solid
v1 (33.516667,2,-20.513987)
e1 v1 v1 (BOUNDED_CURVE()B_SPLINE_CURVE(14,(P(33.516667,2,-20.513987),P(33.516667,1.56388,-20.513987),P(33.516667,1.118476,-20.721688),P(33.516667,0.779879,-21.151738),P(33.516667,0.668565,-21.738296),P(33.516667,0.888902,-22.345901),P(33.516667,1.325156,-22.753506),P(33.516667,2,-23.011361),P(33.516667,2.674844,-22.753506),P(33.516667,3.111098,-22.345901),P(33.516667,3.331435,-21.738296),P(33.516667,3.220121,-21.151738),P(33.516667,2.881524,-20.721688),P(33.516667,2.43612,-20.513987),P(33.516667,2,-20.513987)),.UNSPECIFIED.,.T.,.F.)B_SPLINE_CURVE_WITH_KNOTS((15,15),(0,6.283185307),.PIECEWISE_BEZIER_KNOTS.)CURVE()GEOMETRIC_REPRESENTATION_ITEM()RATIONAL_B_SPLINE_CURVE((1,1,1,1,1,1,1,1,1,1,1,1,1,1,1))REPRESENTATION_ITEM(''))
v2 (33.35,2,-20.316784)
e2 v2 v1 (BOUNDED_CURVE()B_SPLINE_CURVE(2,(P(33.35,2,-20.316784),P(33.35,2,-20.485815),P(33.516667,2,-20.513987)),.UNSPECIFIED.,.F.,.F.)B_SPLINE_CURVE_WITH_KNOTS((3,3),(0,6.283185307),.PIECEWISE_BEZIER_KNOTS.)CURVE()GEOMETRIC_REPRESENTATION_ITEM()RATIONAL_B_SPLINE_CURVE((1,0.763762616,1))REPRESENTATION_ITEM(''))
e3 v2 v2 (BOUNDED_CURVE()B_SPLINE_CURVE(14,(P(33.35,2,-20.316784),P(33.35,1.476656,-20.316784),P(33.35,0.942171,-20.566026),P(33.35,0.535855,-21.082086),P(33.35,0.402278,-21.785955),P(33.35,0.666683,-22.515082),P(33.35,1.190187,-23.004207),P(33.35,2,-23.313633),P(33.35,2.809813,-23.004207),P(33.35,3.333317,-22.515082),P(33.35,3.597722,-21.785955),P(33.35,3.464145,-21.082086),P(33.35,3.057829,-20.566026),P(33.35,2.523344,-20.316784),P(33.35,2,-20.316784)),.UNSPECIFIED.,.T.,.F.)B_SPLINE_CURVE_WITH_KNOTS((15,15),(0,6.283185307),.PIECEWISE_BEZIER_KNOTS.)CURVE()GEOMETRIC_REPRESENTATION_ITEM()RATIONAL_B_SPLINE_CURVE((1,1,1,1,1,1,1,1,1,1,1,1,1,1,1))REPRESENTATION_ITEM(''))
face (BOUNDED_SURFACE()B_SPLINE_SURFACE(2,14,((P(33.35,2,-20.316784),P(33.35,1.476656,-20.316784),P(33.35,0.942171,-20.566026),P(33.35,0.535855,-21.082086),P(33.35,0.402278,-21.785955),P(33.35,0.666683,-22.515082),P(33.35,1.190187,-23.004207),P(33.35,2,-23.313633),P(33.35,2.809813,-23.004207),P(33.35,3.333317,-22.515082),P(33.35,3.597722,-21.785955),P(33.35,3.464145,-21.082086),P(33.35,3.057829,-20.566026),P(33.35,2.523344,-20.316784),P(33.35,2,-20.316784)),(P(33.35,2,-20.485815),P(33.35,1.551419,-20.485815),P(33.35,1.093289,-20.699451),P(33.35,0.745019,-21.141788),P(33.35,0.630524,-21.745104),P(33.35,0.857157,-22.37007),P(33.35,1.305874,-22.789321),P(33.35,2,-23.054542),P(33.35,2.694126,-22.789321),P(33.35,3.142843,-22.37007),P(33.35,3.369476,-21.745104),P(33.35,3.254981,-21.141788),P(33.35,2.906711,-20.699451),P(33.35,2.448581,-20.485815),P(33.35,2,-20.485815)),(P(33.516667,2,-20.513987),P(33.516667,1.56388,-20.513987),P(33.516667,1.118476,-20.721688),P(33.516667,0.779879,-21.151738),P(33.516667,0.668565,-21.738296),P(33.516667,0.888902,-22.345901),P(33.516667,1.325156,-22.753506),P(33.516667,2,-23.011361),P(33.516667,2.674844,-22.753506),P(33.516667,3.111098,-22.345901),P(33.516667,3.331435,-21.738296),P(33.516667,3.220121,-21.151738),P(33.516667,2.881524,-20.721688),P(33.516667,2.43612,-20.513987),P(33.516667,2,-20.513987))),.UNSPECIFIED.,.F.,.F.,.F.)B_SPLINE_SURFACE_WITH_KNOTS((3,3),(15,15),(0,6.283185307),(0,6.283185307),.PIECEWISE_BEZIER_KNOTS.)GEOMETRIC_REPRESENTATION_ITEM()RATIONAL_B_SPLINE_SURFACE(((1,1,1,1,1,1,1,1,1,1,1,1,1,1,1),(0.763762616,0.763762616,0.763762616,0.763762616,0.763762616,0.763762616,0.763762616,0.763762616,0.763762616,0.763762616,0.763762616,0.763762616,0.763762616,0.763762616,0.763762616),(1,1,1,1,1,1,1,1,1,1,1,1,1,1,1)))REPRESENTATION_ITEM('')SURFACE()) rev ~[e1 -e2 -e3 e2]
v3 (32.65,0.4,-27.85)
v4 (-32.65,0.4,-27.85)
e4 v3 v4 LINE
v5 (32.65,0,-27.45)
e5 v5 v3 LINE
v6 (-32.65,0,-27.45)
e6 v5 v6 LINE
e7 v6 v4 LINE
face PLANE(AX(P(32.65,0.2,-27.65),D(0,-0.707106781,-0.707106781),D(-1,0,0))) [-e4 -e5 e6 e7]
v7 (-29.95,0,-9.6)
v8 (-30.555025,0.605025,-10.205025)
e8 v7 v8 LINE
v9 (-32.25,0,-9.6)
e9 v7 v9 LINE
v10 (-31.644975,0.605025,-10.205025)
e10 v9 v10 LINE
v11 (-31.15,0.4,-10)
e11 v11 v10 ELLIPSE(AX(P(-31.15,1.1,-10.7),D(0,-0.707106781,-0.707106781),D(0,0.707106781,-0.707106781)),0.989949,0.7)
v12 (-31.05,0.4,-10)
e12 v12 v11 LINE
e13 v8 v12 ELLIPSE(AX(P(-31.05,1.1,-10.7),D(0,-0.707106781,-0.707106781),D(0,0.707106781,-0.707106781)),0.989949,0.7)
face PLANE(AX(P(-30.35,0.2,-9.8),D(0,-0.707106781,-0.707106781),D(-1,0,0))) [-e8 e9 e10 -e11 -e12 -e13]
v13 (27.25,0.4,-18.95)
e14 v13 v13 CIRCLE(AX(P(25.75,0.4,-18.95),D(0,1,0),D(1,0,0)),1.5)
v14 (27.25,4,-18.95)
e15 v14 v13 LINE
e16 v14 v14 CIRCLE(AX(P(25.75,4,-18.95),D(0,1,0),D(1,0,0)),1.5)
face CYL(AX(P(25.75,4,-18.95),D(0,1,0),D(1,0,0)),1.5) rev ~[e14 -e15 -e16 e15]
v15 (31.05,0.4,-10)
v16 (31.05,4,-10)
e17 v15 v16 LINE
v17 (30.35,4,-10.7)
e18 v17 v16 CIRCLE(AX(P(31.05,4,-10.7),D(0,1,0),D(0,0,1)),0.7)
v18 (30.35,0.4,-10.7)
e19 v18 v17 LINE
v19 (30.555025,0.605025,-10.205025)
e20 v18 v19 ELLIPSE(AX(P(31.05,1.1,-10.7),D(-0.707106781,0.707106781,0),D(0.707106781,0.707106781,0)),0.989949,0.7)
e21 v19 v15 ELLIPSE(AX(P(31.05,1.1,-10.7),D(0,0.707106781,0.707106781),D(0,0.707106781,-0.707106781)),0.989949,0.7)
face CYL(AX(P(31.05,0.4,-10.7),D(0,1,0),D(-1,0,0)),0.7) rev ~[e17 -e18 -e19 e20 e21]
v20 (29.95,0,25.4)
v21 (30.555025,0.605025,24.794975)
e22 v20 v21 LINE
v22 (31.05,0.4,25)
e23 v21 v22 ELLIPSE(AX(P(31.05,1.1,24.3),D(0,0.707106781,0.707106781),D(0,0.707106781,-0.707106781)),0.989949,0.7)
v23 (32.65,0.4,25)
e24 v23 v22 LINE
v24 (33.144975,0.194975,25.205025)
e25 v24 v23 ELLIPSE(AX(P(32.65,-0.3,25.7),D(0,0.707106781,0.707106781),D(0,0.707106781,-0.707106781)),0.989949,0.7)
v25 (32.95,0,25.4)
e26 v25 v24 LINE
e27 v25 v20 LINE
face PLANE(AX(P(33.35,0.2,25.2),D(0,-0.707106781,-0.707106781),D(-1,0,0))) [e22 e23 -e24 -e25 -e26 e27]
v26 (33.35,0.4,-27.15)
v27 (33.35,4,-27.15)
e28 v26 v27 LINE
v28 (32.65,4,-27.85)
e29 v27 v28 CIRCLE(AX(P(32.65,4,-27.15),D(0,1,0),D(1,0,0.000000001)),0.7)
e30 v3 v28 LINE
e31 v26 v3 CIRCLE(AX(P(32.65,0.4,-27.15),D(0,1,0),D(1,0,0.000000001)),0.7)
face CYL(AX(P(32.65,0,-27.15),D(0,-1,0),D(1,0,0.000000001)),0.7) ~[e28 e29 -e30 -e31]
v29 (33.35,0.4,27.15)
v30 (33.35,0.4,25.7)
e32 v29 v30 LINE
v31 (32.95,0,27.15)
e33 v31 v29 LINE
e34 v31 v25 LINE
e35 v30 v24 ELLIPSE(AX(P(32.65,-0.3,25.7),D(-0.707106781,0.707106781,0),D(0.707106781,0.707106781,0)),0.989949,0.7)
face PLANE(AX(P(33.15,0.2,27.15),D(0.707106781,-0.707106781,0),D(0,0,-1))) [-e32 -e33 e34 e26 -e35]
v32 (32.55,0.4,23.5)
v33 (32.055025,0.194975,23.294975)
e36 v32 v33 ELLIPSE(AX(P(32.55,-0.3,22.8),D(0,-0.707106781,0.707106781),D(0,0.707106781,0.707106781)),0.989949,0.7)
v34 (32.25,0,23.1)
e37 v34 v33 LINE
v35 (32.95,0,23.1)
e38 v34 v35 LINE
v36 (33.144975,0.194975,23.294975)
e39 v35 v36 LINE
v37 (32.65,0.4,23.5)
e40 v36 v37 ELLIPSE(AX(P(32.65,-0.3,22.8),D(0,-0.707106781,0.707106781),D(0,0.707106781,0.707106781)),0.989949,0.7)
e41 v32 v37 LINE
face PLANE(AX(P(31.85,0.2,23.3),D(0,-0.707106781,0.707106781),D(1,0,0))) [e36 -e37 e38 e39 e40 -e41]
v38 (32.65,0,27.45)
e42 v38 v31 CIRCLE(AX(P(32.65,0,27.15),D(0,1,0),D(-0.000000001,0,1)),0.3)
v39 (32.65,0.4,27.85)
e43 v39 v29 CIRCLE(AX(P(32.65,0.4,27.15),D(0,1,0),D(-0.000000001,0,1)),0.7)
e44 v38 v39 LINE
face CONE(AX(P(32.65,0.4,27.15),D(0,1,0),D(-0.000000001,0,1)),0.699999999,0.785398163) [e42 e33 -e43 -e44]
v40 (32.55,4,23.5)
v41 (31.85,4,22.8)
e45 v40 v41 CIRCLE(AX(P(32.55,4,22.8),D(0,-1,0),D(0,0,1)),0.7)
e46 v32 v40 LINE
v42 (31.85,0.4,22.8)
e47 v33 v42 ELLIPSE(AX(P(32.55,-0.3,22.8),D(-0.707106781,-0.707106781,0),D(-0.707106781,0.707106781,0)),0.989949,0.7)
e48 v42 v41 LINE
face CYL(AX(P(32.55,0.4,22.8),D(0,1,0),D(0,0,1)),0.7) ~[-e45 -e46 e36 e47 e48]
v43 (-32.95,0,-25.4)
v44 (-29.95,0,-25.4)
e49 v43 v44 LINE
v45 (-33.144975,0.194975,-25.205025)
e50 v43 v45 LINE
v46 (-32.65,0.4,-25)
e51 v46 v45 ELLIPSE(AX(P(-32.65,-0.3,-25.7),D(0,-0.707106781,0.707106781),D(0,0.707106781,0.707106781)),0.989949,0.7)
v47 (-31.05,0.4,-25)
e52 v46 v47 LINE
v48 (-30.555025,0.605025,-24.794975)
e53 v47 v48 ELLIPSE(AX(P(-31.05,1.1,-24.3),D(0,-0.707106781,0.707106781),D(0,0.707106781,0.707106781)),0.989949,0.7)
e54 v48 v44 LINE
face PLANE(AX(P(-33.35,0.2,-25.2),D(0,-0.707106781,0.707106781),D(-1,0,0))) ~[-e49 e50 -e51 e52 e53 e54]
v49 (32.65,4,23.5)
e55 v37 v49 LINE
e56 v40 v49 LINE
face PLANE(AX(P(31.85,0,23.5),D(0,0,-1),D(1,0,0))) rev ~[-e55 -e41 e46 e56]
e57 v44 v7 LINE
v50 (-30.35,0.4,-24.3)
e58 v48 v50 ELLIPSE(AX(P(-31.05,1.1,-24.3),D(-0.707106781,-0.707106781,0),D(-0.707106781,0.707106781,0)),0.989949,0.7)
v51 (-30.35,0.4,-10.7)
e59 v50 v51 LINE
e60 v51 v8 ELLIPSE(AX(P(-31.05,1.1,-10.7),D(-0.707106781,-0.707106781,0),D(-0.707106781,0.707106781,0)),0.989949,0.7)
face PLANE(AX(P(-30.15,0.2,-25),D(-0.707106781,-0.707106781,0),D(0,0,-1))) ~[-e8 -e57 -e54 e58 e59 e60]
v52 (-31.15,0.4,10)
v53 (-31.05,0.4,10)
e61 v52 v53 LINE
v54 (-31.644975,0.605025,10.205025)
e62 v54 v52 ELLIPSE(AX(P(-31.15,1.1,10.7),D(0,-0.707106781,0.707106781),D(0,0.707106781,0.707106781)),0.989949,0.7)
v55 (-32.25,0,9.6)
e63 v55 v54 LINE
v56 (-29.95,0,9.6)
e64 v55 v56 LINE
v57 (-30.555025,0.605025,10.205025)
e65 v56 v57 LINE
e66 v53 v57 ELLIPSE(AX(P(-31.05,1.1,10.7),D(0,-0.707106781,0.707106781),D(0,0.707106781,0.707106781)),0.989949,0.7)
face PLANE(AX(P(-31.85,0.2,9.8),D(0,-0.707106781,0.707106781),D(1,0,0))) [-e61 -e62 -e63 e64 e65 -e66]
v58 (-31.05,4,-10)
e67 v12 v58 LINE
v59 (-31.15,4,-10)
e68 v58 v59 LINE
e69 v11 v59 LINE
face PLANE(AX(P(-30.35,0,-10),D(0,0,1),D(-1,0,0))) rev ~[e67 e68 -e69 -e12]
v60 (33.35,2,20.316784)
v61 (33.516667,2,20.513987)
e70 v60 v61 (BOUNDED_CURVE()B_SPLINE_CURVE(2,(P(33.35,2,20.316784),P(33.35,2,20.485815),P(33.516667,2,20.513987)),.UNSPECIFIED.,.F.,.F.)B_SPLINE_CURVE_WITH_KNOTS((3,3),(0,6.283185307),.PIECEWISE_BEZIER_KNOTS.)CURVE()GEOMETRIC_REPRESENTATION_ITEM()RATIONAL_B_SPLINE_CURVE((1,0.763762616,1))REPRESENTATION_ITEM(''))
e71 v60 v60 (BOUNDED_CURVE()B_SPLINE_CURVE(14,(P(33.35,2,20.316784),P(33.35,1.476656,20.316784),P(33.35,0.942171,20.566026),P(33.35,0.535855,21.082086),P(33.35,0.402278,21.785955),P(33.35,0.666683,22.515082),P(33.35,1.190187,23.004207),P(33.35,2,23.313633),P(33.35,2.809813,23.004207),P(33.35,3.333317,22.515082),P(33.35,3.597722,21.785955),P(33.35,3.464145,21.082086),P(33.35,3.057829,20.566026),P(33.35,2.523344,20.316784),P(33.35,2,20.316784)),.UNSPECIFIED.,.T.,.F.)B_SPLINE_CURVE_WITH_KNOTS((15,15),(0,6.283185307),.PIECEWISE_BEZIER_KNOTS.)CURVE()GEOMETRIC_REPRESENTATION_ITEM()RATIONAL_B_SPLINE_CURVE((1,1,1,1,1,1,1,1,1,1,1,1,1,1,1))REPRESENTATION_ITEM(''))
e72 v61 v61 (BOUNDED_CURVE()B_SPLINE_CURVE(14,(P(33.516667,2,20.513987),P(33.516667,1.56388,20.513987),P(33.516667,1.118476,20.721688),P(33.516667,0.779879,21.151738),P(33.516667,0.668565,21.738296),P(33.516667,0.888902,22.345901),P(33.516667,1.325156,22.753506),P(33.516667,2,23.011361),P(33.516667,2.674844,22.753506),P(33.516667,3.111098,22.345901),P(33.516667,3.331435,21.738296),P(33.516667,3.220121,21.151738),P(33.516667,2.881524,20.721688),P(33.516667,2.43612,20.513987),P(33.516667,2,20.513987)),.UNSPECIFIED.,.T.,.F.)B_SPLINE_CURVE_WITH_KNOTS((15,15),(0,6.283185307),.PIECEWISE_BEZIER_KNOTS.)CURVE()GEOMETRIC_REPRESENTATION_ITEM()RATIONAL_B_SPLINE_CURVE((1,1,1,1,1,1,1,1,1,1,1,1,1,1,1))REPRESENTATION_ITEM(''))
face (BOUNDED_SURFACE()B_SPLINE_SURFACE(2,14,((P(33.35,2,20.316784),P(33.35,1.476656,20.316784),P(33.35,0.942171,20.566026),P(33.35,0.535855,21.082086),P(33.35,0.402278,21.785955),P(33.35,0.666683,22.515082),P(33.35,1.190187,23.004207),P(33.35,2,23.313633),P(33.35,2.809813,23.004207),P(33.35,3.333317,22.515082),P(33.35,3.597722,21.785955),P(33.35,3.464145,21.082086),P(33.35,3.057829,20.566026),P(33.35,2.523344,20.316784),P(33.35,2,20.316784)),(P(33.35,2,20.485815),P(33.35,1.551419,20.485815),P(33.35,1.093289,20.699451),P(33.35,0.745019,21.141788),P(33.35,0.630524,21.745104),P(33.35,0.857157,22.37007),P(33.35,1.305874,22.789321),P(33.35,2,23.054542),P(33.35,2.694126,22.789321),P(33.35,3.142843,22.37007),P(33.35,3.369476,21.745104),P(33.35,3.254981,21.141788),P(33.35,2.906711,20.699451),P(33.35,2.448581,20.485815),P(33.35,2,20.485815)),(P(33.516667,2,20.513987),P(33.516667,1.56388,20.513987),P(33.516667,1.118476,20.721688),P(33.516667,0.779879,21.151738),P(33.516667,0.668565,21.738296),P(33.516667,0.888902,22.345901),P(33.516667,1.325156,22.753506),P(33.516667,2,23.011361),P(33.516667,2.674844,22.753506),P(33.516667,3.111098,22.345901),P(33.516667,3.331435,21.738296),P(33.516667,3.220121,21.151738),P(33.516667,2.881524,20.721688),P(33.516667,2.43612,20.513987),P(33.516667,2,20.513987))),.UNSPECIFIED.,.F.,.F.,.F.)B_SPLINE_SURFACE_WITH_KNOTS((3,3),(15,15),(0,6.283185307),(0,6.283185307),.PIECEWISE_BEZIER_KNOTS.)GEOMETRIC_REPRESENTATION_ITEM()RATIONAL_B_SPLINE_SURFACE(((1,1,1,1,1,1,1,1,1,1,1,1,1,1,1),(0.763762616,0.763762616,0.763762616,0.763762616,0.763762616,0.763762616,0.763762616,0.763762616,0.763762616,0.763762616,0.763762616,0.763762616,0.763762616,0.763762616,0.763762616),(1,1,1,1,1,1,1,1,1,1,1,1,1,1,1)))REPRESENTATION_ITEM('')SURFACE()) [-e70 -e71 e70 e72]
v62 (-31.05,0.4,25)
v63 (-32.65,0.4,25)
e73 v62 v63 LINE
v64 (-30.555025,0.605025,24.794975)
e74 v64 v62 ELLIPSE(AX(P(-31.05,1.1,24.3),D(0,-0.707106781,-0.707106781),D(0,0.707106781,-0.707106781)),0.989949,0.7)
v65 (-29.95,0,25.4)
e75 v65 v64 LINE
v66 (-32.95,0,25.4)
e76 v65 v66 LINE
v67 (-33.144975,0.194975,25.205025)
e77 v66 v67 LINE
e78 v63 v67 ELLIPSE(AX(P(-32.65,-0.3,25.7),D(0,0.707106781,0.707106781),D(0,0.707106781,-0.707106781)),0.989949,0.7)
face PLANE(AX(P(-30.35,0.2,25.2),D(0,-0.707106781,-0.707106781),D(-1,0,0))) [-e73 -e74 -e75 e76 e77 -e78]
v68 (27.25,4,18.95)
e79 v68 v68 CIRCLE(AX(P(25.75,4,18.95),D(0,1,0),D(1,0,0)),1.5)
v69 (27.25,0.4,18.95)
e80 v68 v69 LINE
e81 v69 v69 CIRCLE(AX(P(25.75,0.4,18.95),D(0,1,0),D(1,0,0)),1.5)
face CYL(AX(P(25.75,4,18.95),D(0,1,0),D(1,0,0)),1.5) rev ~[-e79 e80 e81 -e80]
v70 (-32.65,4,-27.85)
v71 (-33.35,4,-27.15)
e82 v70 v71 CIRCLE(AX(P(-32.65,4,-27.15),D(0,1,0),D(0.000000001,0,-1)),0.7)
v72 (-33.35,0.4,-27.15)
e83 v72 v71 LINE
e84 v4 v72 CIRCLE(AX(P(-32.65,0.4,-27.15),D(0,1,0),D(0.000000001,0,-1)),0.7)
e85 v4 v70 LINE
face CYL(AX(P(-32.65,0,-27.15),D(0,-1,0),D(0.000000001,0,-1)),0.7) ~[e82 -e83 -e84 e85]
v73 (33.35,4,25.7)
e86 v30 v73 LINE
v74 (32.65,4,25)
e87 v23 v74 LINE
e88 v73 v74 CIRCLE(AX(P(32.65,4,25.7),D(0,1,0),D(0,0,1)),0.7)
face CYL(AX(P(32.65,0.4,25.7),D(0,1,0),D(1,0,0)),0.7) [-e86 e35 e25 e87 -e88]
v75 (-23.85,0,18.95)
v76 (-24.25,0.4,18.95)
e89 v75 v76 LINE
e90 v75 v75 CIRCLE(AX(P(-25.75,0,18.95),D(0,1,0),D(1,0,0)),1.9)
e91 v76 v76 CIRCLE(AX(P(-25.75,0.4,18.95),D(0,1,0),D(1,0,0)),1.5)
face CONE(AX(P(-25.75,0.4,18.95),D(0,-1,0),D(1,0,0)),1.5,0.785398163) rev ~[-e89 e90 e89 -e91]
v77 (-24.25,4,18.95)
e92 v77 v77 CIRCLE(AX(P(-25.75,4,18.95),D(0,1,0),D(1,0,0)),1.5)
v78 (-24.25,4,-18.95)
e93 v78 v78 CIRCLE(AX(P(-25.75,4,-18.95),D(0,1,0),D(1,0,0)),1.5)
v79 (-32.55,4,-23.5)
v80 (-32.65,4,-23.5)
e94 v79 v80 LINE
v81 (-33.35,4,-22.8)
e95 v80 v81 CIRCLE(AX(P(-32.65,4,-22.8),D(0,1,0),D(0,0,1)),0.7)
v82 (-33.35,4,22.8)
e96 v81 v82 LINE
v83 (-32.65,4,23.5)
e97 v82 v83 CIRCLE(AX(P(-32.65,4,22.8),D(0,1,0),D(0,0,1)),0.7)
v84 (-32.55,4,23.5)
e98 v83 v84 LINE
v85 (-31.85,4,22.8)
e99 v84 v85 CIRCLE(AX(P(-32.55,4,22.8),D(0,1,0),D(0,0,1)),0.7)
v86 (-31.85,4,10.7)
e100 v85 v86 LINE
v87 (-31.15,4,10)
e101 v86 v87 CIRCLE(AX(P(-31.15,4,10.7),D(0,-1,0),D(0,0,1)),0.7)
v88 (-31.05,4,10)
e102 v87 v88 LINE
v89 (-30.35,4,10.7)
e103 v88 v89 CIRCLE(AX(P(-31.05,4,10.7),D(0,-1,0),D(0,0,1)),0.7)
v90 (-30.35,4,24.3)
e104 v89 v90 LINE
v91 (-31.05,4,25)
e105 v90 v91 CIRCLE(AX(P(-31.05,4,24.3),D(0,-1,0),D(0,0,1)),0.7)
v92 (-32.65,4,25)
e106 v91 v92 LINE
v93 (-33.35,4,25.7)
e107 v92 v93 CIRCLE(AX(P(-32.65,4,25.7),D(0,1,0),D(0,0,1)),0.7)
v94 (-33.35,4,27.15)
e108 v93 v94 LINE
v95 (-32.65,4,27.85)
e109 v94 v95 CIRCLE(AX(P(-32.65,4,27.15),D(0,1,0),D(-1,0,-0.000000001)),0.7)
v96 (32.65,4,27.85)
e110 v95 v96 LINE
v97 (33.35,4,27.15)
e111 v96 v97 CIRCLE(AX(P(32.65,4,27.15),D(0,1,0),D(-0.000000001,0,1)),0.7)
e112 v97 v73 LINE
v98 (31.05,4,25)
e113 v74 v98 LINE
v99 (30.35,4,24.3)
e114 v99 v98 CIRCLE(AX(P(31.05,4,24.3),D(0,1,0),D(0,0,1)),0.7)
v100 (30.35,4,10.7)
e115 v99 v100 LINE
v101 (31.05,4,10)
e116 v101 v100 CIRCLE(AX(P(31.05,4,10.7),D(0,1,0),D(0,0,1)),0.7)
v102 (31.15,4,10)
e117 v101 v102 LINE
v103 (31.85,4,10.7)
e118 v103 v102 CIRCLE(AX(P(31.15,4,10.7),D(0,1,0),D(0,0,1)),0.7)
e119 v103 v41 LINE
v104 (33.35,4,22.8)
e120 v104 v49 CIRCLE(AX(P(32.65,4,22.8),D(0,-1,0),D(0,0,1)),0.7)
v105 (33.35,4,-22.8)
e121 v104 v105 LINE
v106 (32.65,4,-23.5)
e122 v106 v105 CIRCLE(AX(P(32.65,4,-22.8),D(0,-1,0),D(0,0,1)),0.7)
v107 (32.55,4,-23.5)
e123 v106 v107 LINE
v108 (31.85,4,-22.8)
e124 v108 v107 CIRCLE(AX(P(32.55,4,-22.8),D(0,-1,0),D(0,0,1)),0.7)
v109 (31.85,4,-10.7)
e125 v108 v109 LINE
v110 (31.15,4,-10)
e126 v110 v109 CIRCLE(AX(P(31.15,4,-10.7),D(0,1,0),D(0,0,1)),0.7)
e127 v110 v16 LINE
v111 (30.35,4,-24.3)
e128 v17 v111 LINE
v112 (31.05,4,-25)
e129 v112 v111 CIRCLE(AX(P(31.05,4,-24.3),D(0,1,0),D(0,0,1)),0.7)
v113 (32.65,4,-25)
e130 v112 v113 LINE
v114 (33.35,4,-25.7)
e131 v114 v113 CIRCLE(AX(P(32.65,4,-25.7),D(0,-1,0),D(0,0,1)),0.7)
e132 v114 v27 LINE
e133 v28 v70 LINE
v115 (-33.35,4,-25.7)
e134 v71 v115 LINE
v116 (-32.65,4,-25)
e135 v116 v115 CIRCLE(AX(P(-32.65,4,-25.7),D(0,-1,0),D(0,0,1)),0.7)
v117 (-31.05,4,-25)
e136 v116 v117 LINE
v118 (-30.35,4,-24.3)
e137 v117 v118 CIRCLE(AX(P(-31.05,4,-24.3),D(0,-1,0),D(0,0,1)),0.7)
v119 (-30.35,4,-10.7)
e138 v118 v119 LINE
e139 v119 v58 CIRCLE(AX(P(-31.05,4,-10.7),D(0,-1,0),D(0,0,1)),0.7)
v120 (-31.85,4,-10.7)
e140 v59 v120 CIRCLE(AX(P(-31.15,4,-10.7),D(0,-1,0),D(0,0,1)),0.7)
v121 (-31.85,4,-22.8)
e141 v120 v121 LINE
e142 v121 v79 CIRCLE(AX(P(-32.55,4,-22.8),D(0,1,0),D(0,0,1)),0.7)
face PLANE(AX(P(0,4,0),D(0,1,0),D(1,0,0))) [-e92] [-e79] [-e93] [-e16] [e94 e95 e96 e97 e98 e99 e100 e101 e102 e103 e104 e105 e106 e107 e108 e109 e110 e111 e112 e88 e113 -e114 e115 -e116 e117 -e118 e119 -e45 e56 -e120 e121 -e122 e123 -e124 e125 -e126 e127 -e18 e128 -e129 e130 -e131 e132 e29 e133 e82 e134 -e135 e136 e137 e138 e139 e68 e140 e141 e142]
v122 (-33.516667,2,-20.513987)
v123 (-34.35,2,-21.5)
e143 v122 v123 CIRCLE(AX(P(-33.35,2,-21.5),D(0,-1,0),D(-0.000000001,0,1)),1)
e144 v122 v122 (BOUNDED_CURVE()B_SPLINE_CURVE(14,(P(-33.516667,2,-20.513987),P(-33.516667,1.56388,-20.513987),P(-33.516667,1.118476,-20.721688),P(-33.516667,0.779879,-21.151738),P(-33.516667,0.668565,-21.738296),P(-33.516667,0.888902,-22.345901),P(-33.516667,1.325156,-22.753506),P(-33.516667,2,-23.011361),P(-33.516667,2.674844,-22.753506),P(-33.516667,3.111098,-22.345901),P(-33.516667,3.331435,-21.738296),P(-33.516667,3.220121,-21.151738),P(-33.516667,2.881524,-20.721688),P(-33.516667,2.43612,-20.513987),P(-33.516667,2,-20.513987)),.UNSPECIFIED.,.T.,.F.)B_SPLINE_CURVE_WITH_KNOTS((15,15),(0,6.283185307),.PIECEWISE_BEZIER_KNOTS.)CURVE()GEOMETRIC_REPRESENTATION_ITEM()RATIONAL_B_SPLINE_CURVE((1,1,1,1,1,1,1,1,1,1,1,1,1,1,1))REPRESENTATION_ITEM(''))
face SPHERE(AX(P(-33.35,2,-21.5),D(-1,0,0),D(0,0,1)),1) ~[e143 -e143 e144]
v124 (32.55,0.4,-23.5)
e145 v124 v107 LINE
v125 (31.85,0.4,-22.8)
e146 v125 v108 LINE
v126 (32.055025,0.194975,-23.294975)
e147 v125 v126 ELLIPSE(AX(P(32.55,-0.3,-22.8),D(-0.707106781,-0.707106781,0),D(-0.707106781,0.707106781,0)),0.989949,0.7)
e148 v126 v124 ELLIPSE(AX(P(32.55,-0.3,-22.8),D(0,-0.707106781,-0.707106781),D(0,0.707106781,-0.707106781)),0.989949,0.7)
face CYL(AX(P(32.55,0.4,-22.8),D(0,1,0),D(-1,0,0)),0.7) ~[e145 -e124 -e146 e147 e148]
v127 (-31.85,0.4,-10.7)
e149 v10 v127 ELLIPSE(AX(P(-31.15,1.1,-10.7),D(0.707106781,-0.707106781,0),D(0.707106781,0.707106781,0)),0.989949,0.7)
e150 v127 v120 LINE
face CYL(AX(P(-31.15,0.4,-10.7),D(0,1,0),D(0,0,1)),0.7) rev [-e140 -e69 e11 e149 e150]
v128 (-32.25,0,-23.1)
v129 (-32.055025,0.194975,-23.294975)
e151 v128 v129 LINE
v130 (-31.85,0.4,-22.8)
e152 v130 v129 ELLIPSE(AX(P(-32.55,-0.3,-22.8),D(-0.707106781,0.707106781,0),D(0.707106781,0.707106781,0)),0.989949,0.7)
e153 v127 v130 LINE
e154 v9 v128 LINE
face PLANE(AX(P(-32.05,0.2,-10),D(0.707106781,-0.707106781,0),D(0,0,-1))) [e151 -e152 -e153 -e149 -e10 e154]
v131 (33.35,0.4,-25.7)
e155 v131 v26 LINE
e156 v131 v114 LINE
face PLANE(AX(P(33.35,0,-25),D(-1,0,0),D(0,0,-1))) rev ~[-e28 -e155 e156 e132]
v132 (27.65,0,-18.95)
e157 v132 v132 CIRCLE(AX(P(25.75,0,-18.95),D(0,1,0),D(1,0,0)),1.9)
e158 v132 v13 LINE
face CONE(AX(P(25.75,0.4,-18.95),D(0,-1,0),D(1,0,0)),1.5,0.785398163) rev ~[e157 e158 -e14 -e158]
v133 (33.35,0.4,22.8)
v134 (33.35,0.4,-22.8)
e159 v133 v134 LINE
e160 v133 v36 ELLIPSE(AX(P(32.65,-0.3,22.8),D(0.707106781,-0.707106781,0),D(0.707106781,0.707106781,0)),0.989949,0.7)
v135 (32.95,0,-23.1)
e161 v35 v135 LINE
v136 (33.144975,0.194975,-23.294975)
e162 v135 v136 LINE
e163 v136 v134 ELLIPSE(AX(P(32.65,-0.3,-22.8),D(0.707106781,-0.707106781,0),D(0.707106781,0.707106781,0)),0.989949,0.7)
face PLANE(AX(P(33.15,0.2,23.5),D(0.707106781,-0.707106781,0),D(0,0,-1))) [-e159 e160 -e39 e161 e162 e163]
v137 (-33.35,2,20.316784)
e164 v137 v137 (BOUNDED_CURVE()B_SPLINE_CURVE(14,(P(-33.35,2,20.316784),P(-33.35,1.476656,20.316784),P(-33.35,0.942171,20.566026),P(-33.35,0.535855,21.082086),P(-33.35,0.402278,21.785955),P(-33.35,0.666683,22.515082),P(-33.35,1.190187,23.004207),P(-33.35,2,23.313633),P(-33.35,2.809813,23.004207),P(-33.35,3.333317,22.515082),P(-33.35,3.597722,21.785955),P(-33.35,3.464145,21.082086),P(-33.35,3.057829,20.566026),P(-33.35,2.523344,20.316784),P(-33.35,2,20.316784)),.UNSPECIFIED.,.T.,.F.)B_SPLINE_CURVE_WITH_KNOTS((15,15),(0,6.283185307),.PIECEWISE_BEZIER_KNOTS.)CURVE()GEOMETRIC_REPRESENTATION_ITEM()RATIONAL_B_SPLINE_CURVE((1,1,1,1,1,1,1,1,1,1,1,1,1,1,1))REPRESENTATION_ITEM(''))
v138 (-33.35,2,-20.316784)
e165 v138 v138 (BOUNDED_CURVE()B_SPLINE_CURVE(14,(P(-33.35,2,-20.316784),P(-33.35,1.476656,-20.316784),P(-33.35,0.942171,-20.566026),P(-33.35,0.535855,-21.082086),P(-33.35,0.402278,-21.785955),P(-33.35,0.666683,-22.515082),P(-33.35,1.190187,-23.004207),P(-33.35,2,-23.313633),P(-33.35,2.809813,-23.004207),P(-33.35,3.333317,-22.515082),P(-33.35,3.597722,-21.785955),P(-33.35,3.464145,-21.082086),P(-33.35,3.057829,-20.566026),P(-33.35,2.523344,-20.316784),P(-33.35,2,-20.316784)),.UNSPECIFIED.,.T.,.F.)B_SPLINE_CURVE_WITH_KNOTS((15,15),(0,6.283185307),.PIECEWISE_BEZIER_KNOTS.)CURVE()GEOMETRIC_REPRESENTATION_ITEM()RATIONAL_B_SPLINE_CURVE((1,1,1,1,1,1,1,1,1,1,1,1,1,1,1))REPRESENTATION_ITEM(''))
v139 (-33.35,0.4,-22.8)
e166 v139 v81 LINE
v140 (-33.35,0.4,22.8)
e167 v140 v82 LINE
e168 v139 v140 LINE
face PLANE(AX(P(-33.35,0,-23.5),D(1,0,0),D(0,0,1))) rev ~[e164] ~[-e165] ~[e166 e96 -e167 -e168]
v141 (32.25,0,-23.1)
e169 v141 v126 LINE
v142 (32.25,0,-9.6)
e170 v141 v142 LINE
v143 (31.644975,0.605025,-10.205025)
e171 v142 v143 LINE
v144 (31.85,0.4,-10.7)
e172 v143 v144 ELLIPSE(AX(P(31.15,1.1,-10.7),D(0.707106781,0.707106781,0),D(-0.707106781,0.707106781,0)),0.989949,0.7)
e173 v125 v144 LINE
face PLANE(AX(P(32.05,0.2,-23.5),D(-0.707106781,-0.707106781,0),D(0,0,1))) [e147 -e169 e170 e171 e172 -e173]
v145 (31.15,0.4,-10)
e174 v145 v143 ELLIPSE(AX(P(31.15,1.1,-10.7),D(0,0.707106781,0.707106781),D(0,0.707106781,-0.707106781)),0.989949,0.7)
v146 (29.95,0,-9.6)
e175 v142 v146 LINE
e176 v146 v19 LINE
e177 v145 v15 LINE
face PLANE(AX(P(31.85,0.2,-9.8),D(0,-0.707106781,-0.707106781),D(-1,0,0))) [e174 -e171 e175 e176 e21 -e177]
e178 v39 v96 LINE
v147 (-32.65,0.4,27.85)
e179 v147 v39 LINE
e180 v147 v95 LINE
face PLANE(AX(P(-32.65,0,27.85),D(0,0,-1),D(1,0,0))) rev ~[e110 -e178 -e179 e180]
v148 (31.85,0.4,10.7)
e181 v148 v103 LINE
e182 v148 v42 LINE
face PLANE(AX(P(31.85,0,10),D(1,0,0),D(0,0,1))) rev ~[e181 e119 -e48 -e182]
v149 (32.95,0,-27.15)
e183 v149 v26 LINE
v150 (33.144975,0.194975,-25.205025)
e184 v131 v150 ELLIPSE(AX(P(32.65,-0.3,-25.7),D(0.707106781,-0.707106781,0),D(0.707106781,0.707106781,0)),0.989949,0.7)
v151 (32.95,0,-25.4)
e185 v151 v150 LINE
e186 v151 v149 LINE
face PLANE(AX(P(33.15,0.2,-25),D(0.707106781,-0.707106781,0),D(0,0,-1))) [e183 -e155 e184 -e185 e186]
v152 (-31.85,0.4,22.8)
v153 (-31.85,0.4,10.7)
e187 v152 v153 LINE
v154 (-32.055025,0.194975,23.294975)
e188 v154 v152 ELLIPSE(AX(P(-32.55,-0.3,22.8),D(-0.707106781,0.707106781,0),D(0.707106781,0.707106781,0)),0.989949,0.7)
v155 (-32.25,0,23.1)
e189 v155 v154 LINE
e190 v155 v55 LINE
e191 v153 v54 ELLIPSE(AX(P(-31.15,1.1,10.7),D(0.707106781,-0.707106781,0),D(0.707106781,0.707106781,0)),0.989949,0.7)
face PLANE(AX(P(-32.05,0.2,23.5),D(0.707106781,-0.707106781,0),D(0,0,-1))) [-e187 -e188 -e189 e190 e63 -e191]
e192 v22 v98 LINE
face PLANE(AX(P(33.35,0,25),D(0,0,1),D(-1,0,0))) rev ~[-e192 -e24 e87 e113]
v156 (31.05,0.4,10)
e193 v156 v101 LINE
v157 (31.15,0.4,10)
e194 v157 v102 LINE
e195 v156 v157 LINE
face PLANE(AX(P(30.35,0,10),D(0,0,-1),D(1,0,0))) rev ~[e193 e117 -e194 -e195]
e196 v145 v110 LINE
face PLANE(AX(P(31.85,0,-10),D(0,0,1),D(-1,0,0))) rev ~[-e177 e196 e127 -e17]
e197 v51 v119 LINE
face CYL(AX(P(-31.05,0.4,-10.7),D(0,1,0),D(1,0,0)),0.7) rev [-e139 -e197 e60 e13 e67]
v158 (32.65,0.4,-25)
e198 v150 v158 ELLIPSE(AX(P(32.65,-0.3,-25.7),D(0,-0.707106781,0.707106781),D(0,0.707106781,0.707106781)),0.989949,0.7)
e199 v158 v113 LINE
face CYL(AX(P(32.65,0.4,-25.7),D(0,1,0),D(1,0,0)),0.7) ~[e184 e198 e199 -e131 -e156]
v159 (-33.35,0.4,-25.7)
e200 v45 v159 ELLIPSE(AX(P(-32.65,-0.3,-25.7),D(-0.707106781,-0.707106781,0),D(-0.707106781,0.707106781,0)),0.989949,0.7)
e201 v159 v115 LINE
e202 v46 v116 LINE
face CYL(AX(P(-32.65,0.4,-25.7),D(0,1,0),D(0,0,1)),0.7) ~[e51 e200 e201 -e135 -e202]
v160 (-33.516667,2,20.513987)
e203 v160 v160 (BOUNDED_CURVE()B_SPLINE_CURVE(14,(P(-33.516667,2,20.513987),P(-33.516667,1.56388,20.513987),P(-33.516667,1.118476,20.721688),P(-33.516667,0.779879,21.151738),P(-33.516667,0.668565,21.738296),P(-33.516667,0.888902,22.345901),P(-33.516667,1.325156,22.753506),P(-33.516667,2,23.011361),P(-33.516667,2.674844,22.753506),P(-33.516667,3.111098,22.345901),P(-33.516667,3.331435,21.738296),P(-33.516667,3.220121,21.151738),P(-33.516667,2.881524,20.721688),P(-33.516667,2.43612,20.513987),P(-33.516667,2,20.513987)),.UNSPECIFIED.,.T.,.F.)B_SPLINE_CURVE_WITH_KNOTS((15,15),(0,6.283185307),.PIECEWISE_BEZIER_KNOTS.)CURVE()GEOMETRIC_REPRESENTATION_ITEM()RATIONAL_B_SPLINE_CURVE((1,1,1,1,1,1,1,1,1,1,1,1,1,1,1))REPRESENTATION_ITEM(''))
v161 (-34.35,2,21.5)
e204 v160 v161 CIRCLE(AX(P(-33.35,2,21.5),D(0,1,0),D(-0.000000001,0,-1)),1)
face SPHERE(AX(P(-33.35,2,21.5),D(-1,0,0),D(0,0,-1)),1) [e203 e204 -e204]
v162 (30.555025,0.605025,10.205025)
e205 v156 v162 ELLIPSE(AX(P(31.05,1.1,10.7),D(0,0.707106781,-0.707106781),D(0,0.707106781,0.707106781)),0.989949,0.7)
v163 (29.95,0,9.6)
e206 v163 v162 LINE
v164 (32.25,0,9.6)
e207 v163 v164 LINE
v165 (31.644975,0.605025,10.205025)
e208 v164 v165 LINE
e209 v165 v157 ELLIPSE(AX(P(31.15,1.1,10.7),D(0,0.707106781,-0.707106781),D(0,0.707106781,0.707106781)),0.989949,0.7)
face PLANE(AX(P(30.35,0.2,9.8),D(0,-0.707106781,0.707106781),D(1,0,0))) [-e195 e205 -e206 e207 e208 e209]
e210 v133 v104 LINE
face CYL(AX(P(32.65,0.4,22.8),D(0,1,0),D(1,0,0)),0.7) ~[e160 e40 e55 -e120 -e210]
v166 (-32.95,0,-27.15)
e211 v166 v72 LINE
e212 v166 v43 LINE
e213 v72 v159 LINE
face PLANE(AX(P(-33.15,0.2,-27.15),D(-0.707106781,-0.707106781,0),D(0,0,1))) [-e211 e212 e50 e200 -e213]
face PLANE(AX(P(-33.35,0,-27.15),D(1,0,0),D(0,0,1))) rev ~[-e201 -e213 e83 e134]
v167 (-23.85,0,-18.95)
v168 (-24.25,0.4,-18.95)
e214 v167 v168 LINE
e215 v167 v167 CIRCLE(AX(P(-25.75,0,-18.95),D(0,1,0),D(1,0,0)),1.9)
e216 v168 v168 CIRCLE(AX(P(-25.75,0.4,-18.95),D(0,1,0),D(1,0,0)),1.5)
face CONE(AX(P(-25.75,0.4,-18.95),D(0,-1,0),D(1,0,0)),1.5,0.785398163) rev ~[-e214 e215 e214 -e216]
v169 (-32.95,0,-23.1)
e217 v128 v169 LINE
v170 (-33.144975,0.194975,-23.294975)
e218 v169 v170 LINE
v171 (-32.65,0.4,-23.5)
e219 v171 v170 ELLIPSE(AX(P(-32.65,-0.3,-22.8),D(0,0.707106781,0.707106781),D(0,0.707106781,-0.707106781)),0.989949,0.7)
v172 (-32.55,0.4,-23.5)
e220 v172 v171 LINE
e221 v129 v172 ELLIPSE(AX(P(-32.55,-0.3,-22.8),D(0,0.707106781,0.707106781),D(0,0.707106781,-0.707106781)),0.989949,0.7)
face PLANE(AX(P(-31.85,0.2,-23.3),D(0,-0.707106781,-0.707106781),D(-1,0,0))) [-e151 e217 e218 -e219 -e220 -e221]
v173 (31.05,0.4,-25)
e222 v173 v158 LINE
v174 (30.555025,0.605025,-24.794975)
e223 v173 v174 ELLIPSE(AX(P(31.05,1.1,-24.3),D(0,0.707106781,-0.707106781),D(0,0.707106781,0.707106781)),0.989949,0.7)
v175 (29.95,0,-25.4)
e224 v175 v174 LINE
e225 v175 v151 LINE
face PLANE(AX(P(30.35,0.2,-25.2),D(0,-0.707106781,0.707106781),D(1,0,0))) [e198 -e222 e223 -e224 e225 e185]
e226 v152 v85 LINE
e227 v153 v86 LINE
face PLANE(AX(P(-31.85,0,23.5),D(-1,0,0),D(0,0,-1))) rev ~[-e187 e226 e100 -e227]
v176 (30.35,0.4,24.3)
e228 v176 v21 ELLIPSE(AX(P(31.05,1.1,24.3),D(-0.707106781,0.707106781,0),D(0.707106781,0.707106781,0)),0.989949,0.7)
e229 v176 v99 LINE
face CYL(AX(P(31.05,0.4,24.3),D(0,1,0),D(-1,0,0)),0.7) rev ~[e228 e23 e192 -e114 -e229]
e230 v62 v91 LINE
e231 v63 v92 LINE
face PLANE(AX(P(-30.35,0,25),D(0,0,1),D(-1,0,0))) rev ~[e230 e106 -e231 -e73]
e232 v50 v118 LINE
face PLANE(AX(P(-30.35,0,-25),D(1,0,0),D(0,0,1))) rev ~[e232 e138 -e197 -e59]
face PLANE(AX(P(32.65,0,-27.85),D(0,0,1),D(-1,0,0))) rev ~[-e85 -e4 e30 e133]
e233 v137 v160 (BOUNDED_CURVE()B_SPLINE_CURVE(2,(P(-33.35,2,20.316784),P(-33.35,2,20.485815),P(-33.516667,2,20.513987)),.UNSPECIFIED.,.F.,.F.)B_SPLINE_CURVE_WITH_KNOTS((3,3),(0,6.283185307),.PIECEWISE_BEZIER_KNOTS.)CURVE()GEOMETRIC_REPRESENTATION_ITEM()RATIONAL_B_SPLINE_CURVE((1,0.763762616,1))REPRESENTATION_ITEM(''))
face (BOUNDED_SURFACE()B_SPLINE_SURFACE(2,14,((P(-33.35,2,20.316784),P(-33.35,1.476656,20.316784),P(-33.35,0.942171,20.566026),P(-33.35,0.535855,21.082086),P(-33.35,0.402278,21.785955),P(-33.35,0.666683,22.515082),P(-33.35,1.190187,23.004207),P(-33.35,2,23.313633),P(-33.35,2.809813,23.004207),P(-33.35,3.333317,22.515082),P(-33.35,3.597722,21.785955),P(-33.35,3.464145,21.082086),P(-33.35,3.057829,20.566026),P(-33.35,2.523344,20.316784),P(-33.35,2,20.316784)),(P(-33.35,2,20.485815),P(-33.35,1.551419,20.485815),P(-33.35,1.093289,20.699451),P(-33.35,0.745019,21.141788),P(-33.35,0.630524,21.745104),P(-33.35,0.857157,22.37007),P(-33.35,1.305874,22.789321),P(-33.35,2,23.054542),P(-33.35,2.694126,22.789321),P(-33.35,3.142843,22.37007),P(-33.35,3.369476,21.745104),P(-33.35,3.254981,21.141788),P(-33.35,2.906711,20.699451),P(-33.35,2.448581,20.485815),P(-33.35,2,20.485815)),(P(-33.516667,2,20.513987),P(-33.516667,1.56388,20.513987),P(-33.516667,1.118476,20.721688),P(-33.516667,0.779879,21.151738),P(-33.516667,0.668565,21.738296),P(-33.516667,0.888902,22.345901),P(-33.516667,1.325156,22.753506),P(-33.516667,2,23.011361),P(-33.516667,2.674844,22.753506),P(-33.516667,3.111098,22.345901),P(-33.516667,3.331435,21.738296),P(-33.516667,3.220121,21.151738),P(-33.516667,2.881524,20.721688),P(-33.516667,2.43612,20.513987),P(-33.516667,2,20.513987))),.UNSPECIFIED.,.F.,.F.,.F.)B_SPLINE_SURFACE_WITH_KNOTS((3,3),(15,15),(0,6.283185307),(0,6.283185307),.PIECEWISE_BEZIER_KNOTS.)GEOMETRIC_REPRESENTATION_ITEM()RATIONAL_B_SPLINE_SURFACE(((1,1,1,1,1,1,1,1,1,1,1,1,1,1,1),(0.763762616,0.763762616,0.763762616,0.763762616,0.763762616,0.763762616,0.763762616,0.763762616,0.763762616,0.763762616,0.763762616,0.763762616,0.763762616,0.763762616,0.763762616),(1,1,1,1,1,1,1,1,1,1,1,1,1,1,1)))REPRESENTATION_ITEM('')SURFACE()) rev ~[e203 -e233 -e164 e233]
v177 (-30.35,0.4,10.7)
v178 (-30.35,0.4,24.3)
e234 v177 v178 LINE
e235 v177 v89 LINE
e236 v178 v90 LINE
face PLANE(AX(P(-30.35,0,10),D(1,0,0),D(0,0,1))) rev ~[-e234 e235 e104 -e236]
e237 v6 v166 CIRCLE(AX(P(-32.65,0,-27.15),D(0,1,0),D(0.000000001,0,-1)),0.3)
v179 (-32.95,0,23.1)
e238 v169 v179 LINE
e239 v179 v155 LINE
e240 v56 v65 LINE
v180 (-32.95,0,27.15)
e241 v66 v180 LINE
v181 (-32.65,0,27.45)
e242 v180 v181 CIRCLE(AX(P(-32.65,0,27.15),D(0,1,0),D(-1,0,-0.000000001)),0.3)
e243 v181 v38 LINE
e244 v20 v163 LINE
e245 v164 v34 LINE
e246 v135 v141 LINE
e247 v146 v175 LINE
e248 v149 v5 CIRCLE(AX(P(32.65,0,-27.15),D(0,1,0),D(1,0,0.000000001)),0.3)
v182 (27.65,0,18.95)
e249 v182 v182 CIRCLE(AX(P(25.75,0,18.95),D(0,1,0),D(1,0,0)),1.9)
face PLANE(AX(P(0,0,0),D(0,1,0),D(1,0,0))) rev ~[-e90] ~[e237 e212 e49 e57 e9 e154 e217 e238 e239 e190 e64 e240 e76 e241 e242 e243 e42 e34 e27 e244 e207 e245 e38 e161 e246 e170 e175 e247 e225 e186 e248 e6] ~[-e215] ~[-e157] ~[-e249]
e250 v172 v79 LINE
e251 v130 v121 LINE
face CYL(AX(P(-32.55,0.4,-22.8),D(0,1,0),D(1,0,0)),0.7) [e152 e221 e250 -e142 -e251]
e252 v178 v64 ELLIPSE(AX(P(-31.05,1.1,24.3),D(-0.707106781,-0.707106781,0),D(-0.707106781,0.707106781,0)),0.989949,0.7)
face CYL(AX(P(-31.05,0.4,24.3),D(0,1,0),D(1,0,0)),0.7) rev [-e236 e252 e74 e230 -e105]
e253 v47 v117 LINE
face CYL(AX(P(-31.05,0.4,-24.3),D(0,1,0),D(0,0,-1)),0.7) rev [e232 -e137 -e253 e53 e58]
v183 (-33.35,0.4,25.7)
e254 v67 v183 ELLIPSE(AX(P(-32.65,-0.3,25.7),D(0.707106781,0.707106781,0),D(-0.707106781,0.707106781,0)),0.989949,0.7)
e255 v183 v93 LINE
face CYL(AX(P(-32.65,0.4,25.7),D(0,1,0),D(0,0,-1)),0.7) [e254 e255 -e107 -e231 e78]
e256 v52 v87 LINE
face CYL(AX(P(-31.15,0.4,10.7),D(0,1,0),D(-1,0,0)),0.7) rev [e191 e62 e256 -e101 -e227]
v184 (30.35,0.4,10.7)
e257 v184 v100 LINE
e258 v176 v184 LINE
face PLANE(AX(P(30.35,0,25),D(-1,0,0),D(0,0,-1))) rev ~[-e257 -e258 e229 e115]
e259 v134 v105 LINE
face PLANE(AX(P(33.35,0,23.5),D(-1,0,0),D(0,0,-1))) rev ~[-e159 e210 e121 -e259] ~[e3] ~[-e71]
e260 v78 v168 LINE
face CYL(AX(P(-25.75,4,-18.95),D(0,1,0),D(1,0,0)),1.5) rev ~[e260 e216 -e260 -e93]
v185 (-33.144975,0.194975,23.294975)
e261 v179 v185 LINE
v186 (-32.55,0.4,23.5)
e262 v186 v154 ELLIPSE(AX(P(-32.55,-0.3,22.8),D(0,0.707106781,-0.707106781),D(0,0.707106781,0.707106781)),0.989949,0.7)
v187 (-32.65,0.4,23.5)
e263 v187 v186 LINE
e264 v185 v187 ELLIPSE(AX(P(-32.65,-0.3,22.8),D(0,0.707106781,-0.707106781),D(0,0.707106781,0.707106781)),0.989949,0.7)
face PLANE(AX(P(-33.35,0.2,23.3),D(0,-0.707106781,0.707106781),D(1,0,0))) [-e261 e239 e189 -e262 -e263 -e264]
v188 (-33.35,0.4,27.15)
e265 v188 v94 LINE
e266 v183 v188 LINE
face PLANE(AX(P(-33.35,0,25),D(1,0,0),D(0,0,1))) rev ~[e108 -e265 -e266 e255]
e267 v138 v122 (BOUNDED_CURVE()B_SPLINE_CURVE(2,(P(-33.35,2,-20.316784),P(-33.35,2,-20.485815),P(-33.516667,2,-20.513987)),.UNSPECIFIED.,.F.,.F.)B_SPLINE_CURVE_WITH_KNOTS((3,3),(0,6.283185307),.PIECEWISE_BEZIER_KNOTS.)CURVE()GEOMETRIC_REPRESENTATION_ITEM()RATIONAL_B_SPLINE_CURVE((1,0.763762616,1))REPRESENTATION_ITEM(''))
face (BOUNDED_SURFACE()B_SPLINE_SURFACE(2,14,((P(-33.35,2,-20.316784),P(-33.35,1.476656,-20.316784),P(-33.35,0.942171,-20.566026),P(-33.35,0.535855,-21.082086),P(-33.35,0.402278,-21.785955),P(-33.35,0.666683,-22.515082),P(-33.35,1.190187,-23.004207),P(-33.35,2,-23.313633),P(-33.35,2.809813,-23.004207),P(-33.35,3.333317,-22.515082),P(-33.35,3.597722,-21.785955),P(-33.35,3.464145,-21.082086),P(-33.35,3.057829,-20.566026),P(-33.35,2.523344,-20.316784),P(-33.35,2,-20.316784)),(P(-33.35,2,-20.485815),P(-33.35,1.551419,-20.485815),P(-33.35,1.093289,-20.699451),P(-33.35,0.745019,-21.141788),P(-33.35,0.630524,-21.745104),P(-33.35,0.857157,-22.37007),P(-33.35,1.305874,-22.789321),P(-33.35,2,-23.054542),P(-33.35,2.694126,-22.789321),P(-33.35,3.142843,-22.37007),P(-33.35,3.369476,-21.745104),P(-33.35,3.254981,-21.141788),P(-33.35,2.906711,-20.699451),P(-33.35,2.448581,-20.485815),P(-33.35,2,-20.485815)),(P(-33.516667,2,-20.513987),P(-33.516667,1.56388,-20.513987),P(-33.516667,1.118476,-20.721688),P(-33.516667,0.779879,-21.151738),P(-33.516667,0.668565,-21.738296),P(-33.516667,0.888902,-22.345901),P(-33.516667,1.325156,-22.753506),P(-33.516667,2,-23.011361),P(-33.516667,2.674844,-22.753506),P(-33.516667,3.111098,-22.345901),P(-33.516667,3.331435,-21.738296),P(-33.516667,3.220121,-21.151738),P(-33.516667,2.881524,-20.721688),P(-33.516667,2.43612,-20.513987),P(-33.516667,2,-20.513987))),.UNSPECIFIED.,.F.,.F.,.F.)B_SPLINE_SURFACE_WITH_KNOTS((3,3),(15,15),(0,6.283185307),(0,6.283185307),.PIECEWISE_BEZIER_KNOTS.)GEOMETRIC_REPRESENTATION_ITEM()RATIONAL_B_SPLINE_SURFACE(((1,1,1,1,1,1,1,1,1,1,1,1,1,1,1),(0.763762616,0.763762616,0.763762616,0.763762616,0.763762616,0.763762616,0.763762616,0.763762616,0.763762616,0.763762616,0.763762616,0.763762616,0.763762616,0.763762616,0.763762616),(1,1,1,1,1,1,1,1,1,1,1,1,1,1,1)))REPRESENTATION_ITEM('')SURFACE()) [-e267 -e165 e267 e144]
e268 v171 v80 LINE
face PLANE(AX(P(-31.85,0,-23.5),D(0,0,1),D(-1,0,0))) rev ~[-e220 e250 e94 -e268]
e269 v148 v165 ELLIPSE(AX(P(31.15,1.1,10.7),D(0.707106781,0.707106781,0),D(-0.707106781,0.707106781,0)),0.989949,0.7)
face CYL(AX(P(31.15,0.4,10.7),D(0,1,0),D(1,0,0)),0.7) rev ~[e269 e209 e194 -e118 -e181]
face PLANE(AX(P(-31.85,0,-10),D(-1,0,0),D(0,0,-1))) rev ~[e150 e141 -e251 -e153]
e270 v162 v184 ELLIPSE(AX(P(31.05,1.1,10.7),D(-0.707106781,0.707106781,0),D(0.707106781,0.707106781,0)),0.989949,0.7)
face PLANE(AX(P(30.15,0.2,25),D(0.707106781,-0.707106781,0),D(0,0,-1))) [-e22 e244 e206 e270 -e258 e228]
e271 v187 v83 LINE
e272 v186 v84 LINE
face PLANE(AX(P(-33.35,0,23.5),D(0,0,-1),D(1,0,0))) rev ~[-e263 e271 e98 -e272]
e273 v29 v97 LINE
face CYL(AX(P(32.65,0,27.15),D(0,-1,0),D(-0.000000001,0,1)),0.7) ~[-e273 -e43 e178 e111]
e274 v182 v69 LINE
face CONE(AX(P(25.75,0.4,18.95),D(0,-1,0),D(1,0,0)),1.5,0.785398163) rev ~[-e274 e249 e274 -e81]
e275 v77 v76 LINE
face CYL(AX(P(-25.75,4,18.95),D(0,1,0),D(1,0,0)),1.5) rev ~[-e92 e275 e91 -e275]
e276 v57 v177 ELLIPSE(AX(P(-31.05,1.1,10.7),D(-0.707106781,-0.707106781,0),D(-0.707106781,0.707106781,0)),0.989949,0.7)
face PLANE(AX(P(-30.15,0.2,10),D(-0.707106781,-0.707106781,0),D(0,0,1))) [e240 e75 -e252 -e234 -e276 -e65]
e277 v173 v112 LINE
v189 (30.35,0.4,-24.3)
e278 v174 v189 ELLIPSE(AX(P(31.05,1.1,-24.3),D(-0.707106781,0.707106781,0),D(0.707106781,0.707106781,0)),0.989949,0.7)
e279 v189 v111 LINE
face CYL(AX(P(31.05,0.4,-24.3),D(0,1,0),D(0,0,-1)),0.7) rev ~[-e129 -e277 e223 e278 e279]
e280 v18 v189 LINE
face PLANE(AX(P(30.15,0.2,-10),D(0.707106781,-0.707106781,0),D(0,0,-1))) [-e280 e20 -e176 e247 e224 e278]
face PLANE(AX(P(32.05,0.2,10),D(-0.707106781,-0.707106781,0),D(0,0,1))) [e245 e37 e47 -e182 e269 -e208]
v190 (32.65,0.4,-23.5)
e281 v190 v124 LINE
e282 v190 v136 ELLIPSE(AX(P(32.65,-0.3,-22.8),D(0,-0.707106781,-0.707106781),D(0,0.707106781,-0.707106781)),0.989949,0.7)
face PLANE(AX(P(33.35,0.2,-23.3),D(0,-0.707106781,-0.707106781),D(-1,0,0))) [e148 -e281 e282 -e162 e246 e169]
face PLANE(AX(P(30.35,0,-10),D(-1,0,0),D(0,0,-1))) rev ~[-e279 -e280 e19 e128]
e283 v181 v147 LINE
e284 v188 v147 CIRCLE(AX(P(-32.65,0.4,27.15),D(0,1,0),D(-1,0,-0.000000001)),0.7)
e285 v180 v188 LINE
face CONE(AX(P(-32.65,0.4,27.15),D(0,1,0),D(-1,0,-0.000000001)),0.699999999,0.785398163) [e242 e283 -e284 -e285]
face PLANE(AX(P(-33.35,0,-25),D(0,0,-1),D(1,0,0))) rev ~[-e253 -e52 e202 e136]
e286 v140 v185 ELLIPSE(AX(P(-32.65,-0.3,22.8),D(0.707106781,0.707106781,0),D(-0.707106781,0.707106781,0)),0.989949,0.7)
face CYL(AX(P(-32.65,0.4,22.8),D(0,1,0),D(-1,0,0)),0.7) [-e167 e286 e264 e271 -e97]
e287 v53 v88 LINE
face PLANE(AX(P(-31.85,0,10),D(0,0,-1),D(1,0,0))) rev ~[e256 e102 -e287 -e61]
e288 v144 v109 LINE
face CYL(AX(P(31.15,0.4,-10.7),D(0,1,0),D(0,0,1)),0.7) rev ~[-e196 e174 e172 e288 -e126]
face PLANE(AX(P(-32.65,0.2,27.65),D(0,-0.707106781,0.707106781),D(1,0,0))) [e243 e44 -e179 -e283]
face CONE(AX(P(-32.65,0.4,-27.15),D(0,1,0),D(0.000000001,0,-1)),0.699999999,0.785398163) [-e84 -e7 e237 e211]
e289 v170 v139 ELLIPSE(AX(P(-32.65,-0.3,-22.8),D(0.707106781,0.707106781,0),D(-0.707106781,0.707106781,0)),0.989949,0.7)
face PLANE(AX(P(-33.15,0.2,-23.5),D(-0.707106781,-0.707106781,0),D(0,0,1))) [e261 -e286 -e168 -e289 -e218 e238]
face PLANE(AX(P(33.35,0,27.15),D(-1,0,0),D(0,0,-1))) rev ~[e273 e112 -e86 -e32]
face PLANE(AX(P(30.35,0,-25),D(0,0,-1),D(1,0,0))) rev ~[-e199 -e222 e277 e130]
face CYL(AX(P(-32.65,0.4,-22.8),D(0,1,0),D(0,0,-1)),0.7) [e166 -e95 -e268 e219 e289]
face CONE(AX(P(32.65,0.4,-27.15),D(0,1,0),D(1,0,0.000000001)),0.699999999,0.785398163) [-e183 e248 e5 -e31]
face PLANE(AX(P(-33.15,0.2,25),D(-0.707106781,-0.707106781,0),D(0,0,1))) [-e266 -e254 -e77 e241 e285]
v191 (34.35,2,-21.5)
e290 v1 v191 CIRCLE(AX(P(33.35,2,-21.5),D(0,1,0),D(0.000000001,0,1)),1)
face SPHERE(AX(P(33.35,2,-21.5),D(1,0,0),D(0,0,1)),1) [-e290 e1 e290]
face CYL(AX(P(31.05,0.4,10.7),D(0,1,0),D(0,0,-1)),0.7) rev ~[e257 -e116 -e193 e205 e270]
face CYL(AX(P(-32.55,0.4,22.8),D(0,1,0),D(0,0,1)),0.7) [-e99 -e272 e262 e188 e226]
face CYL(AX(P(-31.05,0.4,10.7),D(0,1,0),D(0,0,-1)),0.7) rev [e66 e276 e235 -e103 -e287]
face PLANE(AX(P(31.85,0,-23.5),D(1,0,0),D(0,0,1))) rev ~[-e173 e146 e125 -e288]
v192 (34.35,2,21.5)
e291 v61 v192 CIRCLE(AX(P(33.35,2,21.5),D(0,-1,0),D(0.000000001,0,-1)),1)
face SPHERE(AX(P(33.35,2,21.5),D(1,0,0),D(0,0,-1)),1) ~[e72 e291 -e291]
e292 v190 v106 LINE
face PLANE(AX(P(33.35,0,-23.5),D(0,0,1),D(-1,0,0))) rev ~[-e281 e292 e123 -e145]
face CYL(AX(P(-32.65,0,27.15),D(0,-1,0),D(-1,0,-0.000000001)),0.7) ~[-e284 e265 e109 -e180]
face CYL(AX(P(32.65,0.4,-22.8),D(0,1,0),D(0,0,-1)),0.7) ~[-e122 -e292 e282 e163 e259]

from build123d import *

# Parameters (mm, degrees)
BOSS_EXTRUDE1_DEPTH = 4
SKETCH3_R           = 1.5
CUT_EXTRUDE2_DEPTH  = 5
CHAMFER1_SIZE       = 0.4
FILLET1_R           = 0.7
FILLET2_R           = 0.2


with BuildPart() as part:
    # Sketch1 → Boss-Extrude1 (new body)
    with BuildSketch(Plane(origin=(0, 0, 0), x_dir=(1, 0, 0), z_dir=(0, 1, 0))):
        with BuildLine():
            Line((-33.35, 25), (-30.35, 25))
            Line((-30.35, 25), (-30.35, 10))
            Line((-30.35, 10), (-31.85, 10))
            Line((-31.85, 10), (-31.85, 23.5))
            Line((-31.85, 23.5), (-33.35, 23.5))
            Line((-33.35, 23.5), (-33.35, -23.5))
            Line((-33.35, -23.5), (-31.85, -23.5))
            Line((-31.85, -23.5), (-31.85, -10))
            Line((-31.85, -10), (-30.35, -10))
            Line((-30.35, -10), (-30.35, -25))
            Line((-30.35, -25), (-33.35, -25))
            Line((-33.35, -25), (-33.35, -27.15))
            ThreePointArc((-33.35, -27.15), (-33.144974747, -27.644974747), (-32.65, -27.85))
            Line((-32.65, -27.85), (32.65, -27.85))
            ThreePointArc((32.65, -27.85), (33.144974747, -27.644974747), (33.35, -27.15))
            Line((33.35, -27.15), (33.35, -25))
            Line((33.35, -25), (30.35, -25))
            Line((30.35, -25), (30.35, -10))
            Line((30.35, -10), (31.85, -10))
            Line((31.85, -10), (31.85, -23.5))
            Line((31.85, -23.5), (33.35, -23.5))
            Line((33.35, -23.5), (33.35, 23.5))
            Line((33.35, 23.5), (31.85, 23.5))
            Line((31.85, 23.5), (31.85, 10))
            Line((31.85, 10), (30.35, 10))
            Line((30.35, 10), (30.35, 25))
            Line((30.35, 25), (33.35, 25))
            Line((33.35, 25), (33.35, 27.15))
            ThreePointArc((33.35, 27.15), (33.144974747, 27.644974747), (32.65, 27.85))
            Line((32.65, 27.85), (-32.65, 27.85))
            ThreePointArc((-32.65, 27.85), (-33.144974747, 27.644974747), (-33.35, 27.15))
            Line((-33.35, 27.15), (-33.35, 25))
        make_face()
    extrude(amount=BOSS_EXTRUDE1_DEPTH)

    # Sketch3 → Cut-Extrude2 (cut, through all)
    with BuildSketch(Plane(origin=(0, 4, 0), x_dir=(1, 0, 0), z_dir=(0, 1, 0))):
        with Locations((-25.75, 18.95)):
            Circle(SKETCH3_R)
        with Locations((25.75, 18.95)):
            Circle(SKETCH3_R)
        with Locations((25.75, -18.95)):
            Circle(SKETCH3_R)
        with Locations((-25.75, -18.95)):
            Circle(SKETCH3_R)
    extrude(amount=-CUT_EXTRUDE2_DEPTH, mode=Mode.SUBTRACT)

    # Sketch5 → Revolve1 (revolve)
    with BuildSketch(Plane(origin=(0, 2, 0), x_dir=(1, 0, 0), z_dir=(0, 1, 0))):
        with BuildLine():
            Line((-34.35, 21.5), (-33.35, 21.5))
            Line((-33.35, 21.5), (-33.35, 20.5))
            ThreePointArc((-33.35, 20.5), (-34.057106781, 20.792893219), (-34.35, 21.5))
        make_face()
    revolve1 = revolve(axis=Axis((-34.35, 2, -21.5), (1, 0, 0)))

    # Mirror1: Revolve1 across plane
    add(revolve1.mirror(Plane.XY))

    # Mirror2: Revolve1 across plane
    add(revolve1.mirror(Plane(origin=(0, 0, 0), x_dir=(0, 0, 1), z_dir=(1, 0, 0))))

    # Mirror2 copy 1 sketch → Mirror2 copy 1 (revolve)
    with BuildSketch(Plane(origin=(0, 2, 0), x_dir=(-1, 0, 0), z_dir=(0, 1, 0))):
        with BuildLine():
            Line((-34.35, 21.5), (-33.35, 21.5))
            Line((-33.35, 21.5), (-33.35, 20.5))
            ThreePointArc((-33.35, 20.5), (-34.057106781, 20.792893219), (-34.35, 21.5))
        make_face()
    revolve(axis=Axis((34.35, 2, 21.5), (-1, 0, 0)))

    # Chamfer1
    chamfer1_edges = [part.edges().sort_by_distance(p)[0] for p in [
        (24.25, 0, 18.95),
        (24.25, 0, -18.95),
        (-27.25, 0, -18.95),
        (-33.144974747, 0, -27.644974747),
        (0, 0, -27.85),
        (33.144974747, 0, -27.644974747),
        (33.35, 0, -26.075),
        (31.85, 0, -25),
        (30.35, 0, -17.5),
        (31.1, 0, -10),
        (31.85, 0, -16.75),
        (32.6, 0, -23.5),
        (33.35, 0, 0),
        (32.6, 0, 23.5),
        (31.85, 0, 16.75),
        (31.1, 0, 10),
        (30.35, 0, 17.5),
        (31.85, 0, 25),
        (33.35, 0, 26.075),
        (33.144974747, 0, 27.644974747),
        (0, 0, 27.85),
        (-33.144974747, 0, 27.644974747),
        (-33.35, 0, 26.075),
        (-31.85, 0, 25),
        (-30.35, 0, 17.5),
        (-31.1, 0, 10),
        (-31.85, 0, 16.75),
        (-32.6, 0, 23.5),
        (-33.35, 0, 0),
        (-32.6, 0, -23.5),
        (-31.85, 0, -16.75),
        (-31.1, 0, -10),
        (-30.35, 0, -17.5),
        (-31.85, 0, -25),
        (-33.35, 0, -26.075),
        (-27.25, 0, 18.95),
    ]]
    chamfer(chamfer1_edges, length=CHAMFER1_SIZE)

    # Fillet1
    fillet1_edges = [part.edges().sort_by_distance(p)[0] for p in [
        (33.35, 2.2, -25),
        (30.35, 2.2, -25),
        (30.35, 2.2, -10),
        (31.85, 2.2, -10),
        (31.85, 2.2, -23.5),
        (33.35, 2.2, -23.5),
        (33.35, 2.2, 23.5),
        (31.85, 2.2, 23.5),
        (31.85, 2.2, 10),
        (30.35, 2.2, 10),
        (30.35, 2.2, 25),
        (33.35, 2.2, 25),
        (-33.35, 2.2, 25),
        (-30.35, 2.2, 25),
        (-30.35, 2.2, 10),
        (-31.85, 2.2, 10),
        (-31.85, 2.2, 23.5),
        (-33.35, 2.2, 23.5),
        (-33.35, 2.2, -23.5),
        (-31.85, 2.2, -23.5),
        (-31.85, 2.2, -10),
        (-30.35, 2.2, -10),
        (-30.35, 2.2, -25),
        (-33.35, 2.2, -25),
    ]]
    fillet(fillet1_edges, radius=FILLET1_R)

    # Fillet2
    fillet2_edges = [part.edges().sort_by_distance(p)[0] for p in [
        (-33.35, 2, -22.5),
        (-33.35, 2, 22.5),
        (33.35, 2, 22.5),
        (33.35, 2, -22.5),
    ]]
    fillet(fillet2_edges, radius=FILLET2_R)


solid = part.part
